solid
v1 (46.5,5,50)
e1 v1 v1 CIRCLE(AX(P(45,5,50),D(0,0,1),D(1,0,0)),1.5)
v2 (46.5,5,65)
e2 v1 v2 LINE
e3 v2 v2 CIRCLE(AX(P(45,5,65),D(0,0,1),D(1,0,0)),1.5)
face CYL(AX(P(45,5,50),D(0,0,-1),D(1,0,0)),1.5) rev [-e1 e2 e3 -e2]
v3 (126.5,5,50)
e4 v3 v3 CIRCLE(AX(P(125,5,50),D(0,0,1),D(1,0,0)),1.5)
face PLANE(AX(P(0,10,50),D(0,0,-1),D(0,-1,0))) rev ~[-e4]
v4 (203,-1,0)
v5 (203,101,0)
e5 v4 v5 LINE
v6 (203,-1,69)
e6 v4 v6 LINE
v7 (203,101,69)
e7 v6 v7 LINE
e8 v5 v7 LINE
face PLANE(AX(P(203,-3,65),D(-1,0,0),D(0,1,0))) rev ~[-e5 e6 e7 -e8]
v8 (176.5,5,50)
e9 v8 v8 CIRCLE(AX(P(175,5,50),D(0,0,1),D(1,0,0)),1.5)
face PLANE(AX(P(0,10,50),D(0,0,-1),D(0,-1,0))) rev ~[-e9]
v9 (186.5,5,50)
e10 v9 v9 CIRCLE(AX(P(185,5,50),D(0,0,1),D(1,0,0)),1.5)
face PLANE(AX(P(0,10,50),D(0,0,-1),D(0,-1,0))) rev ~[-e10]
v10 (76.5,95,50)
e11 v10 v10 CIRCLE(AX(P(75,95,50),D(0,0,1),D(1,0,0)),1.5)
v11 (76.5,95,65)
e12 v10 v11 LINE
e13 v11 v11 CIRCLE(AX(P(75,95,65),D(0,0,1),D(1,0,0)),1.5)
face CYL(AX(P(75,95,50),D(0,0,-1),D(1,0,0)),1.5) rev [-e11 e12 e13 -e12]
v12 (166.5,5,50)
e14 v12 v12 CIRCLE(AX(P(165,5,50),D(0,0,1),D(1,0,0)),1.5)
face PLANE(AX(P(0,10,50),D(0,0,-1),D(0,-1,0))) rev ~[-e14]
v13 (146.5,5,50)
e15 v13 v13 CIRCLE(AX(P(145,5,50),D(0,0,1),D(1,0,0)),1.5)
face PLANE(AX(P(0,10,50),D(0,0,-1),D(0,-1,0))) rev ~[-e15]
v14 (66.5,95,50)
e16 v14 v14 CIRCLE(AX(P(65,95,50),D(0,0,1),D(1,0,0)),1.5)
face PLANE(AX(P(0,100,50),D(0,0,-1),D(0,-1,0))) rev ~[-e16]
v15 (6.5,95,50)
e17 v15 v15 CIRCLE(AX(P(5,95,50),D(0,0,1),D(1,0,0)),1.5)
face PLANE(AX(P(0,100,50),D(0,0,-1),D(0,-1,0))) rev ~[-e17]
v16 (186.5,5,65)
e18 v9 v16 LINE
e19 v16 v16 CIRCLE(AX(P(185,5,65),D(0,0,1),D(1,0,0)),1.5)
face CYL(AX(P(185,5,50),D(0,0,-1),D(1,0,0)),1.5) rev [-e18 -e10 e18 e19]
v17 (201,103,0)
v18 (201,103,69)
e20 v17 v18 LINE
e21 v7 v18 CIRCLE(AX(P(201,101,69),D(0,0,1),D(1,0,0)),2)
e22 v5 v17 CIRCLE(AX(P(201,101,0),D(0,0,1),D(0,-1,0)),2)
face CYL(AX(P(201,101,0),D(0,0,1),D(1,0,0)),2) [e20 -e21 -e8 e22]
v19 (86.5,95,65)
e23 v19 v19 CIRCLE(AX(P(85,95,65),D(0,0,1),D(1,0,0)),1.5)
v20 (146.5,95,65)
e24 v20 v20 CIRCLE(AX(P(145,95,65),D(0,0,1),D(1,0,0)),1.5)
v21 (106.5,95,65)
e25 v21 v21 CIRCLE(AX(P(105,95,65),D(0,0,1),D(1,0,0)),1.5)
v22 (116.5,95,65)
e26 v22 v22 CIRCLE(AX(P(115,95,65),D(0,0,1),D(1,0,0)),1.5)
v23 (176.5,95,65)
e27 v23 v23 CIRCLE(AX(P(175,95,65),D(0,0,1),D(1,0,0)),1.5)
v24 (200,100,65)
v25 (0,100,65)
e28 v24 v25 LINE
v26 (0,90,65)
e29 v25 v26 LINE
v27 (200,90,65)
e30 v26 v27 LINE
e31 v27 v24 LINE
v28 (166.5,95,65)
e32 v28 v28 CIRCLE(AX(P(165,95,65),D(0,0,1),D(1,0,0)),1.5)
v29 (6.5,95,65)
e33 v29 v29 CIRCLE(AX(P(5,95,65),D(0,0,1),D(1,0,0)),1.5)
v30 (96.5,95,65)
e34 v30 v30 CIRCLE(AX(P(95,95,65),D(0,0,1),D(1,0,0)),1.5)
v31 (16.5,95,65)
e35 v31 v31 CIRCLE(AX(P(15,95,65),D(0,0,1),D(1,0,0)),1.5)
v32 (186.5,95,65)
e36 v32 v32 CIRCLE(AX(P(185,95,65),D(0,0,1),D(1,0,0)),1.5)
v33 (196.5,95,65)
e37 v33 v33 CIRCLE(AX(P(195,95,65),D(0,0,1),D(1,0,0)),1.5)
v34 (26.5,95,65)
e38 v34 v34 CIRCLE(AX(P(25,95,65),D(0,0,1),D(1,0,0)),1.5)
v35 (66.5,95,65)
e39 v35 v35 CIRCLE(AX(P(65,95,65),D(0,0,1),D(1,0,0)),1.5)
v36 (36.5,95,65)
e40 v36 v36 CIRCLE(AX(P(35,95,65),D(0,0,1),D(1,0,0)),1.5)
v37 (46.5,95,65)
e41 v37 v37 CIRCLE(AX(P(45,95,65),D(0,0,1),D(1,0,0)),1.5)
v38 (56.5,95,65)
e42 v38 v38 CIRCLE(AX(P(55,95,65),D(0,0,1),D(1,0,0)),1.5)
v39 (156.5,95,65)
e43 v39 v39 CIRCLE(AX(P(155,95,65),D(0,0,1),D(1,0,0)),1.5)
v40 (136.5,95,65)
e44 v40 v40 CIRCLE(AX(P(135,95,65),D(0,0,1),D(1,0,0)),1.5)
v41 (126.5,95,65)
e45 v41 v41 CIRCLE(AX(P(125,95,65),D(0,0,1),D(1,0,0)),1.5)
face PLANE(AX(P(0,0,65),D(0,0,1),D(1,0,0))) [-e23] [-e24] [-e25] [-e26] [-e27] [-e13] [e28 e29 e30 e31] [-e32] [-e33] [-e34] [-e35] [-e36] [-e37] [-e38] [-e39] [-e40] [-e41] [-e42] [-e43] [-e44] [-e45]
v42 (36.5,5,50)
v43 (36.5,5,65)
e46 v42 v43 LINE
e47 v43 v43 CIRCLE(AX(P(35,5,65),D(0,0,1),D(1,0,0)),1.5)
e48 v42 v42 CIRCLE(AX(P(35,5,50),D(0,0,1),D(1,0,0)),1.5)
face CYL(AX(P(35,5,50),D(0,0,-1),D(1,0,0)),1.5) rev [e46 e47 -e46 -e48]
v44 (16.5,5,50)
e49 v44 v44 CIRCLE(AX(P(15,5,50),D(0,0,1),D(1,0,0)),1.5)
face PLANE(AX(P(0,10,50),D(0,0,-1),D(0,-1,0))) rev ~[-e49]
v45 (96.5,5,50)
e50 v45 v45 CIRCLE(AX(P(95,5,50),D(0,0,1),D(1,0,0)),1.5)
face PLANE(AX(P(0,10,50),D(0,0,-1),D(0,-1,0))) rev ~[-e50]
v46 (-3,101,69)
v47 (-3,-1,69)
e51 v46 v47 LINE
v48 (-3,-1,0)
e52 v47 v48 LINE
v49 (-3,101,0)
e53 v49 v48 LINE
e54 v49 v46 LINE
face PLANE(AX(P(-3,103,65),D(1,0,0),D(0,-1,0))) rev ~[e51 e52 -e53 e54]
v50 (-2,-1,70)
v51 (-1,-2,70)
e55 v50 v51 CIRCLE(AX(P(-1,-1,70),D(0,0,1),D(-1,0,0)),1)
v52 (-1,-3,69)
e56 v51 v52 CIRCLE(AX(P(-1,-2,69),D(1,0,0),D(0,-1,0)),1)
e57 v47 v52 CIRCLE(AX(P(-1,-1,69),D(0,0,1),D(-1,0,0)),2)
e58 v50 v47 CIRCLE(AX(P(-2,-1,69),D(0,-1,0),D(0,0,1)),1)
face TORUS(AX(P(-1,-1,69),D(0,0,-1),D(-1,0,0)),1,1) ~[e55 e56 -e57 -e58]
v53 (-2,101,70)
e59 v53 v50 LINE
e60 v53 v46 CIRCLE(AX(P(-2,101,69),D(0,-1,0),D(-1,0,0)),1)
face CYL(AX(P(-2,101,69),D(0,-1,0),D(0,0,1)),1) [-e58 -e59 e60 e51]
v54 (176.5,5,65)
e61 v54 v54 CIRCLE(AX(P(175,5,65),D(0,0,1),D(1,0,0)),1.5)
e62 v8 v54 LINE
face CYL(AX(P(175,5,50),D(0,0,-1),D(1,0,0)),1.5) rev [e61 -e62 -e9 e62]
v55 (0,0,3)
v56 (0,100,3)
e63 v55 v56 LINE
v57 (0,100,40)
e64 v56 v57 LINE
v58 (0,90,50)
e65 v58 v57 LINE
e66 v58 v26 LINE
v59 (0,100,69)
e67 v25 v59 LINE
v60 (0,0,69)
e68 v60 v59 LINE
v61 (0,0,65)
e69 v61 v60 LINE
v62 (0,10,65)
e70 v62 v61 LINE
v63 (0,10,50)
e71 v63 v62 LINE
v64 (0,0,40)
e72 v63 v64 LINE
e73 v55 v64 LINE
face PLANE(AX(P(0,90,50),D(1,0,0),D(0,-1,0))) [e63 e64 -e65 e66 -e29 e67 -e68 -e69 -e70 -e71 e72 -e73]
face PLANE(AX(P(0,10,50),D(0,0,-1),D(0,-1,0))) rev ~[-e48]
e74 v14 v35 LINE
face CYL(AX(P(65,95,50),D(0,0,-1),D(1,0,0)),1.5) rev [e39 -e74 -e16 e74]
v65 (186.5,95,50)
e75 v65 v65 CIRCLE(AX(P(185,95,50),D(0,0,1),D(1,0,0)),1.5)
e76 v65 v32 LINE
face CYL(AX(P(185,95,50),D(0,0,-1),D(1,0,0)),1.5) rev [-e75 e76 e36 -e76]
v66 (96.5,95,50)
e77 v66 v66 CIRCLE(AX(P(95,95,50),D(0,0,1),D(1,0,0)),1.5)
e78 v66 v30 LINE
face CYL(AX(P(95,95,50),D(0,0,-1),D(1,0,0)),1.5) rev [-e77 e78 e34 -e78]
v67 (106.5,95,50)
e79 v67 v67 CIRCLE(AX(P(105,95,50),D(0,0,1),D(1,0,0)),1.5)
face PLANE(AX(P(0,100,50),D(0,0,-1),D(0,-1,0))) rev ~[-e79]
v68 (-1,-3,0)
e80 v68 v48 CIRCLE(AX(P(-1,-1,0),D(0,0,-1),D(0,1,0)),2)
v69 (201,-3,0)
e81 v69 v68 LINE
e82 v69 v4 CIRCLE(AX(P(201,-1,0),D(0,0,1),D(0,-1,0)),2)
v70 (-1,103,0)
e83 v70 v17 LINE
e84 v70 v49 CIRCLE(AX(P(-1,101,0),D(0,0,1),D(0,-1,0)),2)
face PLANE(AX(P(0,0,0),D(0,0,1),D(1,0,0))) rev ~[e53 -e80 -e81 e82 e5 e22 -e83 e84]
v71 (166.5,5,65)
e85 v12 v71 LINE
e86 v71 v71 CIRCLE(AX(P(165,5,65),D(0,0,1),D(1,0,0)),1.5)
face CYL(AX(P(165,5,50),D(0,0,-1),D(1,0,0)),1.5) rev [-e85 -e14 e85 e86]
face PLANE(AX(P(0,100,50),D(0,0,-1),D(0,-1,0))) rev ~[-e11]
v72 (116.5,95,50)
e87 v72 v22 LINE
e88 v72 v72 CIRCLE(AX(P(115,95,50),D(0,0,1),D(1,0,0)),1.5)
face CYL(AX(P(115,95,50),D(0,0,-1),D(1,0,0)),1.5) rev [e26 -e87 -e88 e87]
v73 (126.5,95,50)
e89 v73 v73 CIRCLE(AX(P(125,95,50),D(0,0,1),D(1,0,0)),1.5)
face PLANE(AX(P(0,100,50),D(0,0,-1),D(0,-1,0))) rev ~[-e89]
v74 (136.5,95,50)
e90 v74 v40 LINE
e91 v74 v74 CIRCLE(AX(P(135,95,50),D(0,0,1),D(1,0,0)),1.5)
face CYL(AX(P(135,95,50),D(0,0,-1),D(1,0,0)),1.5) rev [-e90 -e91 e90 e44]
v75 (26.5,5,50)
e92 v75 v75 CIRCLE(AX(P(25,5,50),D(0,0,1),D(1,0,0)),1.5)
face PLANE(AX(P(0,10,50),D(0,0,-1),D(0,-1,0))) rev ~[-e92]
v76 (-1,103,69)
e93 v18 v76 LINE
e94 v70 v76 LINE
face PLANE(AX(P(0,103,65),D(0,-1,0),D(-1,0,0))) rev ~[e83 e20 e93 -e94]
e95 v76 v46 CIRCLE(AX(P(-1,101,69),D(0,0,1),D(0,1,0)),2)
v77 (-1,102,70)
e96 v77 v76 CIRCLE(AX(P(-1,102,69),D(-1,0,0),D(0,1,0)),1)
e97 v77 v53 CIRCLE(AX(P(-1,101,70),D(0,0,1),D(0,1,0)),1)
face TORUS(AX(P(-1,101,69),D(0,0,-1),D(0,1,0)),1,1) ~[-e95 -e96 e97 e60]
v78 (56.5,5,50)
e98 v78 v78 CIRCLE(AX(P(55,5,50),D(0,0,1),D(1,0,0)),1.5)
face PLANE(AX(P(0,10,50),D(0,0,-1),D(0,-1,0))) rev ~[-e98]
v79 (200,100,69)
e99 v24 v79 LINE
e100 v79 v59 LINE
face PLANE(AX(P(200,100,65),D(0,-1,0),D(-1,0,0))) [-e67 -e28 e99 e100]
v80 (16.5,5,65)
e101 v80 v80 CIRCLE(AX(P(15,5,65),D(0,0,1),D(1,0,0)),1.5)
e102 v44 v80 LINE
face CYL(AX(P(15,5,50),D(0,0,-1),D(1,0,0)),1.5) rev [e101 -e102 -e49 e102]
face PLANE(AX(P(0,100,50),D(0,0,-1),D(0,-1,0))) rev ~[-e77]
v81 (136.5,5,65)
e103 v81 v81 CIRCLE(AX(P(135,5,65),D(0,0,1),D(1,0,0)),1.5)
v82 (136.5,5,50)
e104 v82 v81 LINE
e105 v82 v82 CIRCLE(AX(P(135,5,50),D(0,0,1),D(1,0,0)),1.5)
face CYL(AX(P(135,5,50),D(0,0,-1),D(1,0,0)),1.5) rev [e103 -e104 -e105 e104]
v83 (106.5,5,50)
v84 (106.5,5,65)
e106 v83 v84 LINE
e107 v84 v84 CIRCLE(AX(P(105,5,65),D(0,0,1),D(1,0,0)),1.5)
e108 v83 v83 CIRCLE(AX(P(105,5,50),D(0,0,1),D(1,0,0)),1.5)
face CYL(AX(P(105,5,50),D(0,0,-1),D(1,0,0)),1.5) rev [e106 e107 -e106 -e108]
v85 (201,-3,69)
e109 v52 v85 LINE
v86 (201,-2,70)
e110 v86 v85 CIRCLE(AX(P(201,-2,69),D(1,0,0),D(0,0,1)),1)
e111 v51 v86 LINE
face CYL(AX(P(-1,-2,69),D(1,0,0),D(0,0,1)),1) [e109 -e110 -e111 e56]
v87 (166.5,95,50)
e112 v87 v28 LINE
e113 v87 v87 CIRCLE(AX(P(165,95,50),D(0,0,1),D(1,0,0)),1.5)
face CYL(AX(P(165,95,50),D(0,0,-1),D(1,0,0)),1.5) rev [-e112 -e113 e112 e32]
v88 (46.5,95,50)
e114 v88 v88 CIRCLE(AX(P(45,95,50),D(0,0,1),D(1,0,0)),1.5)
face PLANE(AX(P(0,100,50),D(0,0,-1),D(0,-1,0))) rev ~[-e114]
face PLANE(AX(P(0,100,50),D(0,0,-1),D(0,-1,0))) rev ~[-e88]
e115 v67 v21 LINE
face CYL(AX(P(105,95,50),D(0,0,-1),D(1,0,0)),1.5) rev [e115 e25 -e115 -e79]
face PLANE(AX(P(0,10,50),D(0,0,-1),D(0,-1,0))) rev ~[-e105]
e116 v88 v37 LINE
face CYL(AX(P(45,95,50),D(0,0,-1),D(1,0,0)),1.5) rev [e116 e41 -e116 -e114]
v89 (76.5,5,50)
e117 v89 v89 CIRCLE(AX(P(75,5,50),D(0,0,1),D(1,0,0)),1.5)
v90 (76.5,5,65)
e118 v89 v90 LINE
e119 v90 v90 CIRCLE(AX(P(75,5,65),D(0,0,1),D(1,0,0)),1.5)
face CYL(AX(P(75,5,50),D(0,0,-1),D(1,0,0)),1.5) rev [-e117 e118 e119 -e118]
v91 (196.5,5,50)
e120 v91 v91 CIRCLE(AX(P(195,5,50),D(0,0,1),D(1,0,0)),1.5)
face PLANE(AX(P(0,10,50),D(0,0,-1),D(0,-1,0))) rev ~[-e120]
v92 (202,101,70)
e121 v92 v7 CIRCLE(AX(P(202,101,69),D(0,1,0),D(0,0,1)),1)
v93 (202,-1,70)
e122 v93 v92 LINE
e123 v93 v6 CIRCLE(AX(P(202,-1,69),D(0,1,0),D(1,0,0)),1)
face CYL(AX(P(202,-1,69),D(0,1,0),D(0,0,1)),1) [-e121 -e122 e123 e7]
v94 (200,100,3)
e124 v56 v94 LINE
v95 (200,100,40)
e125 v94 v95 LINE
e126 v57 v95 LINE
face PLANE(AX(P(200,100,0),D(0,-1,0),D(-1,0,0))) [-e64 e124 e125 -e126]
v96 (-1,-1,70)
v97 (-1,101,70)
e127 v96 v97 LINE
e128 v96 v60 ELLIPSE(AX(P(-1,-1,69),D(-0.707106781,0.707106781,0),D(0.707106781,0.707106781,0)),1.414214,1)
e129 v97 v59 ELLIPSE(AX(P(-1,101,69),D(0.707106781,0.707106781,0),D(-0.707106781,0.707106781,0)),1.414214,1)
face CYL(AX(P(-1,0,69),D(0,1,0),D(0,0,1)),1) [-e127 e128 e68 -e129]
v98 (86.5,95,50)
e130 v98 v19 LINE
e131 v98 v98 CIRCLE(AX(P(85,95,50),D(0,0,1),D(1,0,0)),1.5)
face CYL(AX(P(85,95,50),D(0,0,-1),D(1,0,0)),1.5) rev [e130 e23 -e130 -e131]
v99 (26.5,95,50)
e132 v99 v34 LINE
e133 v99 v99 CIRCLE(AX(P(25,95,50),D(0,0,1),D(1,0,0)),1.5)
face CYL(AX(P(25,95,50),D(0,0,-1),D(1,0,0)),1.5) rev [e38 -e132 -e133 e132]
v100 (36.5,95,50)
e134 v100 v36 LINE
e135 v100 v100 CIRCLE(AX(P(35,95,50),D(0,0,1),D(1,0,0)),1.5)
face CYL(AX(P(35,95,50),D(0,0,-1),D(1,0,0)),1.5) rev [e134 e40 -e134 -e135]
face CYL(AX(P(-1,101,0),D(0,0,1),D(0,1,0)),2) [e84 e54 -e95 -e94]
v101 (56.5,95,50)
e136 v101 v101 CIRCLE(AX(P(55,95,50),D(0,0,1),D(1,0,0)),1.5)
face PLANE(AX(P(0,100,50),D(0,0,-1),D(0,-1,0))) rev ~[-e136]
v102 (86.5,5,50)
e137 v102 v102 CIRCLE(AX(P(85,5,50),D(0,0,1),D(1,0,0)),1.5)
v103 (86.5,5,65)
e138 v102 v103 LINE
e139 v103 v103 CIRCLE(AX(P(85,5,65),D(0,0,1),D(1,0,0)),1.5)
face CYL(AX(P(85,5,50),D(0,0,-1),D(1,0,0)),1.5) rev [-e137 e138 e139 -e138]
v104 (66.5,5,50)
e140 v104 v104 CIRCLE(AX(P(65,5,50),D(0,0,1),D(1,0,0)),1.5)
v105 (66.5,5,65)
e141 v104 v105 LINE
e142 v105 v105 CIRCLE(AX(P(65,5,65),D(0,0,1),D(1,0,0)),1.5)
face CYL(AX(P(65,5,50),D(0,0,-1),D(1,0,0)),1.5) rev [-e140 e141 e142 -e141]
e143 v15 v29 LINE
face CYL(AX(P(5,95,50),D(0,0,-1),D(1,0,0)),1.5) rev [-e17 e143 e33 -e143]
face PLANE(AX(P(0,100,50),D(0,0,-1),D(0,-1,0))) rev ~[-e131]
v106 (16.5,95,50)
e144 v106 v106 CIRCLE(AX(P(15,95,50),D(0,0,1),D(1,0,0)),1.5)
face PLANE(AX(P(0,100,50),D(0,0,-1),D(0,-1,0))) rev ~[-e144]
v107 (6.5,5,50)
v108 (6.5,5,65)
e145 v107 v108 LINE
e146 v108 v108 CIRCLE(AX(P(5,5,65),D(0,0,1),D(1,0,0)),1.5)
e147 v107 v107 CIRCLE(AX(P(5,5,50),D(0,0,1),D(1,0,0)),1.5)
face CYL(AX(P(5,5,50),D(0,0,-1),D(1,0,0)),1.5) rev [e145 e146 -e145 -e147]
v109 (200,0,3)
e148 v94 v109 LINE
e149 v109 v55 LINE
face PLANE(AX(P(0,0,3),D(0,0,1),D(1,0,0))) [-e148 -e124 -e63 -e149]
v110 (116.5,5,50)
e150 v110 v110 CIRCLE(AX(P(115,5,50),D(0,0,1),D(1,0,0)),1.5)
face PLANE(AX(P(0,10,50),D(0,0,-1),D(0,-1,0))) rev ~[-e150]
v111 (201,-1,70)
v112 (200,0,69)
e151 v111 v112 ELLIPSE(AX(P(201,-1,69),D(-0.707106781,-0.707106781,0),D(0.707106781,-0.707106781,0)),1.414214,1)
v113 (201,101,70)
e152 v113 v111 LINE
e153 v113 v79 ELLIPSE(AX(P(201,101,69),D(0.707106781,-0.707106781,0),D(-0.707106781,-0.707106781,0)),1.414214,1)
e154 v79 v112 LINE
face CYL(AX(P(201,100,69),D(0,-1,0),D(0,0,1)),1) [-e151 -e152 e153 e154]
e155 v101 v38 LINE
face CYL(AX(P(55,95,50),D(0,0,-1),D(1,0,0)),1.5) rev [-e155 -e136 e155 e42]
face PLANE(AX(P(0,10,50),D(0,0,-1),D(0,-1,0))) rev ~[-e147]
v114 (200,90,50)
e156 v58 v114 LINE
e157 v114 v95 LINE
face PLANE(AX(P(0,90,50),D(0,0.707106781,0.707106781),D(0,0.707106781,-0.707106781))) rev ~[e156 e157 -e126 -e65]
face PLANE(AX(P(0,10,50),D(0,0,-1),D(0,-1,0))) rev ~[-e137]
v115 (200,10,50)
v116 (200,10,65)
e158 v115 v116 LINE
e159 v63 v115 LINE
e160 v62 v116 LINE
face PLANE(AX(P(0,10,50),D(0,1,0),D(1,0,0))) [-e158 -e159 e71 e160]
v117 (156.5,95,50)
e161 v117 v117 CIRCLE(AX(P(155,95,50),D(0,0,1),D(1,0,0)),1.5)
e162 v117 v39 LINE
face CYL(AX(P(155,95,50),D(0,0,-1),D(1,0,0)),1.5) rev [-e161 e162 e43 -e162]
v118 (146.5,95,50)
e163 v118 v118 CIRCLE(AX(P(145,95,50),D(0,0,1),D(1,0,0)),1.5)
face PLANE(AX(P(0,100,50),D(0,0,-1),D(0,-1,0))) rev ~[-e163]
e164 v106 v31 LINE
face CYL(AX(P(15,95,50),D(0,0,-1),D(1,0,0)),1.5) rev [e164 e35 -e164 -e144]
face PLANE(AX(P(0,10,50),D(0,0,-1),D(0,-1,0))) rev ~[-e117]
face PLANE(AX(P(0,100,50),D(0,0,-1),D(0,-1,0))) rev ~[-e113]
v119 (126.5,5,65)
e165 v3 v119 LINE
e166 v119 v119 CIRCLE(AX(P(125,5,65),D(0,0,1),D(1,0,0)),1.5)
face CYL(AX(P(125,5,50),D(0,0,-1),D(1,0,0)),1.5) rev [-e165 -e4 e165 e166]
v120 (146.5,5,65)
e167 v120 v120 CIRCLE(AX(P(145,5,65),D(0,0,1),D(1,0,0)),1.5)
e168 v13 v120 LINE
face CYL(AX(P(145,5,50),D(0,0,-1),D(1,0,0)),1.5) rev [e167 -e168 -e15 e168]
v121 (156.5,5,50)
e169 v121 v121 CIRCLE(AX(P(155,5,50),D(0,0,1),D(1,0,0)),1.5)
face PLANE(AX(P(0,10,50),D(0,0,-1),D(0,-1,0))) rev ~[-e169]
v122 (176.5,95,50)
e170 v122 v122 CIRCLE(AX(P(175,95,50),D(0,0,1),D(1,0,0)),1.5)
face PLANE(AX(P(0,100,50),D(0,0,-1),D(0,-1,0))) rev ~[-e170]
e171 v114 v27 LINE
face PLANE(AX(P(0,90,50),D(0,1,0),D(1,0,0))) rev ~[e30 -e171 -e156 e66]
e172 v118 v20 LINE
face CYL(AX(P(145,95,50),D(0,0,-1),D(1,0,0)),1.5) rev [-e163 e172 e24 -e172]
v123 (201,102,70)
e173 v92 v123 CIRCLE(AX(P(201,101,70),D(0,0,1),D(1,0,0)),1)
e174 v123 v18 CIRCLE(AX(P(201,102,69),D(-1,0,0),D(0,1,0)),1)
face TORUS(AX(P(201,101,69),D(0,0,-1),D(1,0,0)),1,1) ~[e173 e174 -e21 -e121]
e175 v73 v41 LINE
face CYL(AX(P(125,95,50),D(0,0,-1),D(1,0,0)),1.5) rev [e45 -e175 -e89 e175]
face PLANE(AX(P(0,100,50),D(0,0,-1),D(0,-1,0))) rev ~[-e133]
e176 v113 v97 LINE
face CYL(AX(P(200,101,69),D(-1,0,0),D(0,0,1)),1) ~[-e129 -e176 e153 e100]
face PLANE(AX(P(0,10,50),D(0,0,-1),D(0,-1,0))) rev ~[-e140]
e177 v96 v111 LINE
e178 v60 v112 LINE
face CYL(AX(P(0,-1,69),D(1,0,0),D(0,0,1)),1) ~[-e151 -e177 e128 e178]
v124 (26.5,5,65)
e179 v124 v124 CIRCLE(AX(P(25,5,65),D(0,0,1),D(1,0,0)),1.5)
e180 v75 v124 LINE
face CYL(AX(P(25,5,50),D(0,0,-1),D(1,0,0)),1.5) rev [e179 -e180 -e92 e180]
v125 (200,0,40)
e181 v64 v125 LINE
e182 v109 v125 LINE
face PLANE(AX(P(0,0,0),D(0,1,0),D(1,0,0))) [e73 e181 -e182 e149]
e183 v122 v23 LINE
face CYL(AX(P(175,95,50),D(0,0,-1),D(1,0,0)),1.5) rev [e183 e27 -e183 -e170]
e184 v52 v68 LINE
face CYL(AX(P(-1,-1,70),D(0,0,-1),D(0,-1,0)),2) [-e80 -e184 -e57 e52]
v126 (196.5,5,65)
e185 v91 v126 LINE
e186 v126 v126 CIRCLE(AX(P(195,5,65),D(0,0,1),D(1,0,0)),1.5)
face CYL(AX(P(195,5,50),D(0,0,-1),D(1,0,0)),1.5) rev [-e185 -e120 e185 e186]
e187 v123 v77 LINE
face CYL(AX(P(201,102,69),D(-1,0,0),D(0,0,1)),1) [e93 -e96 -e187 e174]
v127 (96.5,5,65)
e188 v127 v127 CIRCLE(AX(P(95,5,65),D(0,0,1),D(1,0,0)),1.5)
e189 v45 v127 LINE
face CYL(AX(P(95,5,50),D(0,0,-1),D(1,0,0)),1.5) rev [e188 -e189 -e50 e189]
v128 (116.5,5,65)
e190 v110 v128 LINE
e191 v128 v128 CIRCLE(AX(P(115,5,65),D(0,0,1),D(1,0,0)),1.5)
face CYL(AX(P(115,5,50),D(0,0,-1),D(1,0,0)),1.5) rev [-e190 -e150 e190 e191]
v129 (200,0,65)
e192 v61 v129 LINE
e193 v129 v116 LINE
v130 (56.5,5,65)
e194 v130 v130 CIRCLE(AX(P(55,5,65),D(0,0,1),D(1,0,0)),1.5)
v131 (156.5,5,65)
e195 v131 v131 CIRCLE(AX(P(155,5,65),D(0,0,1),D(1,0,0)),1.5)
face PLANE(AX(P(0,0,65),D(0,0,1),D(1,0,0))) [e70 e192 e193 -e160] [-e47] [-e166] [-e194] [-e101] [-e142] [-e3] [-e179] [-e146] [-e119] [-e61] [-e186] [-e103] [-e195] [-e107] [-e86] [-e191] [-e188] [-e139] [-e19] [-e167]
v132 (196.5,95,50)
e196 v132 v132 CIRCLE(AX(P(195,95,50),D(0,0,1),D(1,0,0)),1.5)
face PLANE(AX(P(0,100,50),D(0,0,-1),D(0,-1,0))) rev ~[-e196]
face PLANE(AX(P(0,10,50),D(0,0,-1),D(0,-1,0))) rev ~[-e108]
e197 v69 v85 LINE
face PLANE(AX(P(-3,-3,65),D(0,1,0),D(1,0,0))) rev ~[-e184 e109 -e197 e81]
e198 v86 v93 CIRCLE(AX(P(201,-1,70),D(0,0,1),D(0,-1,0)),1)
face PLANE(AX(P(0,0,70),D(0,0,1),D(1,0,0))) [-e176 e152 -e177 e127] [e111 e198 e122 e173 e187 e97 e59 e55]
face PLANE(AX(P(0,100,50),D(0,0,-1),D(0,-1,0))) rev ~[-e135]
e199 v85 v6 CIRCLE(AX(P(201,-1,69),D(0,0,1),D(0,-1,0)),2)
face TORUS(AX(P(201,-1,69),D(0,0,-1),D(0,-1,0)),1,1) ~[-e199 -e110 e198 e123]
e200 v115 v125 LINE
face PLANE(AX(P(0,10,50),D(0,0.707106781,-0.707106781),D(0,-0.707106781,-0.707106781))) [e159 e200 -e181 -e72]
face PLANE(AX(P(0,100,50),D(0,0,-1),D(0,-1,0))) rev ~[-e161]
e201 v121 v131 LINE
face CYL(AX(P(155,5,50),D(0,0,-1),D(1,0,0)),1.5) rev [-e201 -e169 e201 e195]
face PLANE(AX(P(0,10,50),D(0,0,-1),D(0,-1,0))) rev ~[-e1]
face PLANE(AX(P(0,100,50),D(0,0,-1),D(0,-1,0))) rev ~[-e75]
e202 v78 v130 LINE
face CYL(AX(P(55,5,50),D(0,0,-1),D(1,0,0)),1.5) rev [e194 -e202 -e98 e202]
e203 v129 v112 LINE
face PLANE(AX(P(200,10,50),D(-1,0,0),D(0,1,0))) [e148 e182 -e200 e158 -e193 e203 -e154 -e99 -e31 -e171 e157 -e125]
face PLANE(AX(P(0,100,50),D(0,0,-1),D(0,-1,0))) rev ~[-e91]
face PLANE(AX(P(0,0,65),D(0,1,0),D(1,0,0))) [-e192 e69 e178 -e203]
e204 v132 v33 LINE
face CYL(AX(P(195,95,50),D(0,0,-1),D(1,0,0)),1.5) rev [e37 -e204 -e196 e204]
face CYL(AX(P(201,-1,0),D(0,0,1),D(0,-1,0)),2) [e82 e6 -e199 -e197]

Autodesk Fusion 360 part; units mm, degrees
sketch "Sketch1" plane through (0, 0, 0) normal (0, 0, 1) x (1, 0, 0)
  line L0 (0, 0) -> (200, 0)
  line L1 (200, 0) -> (200, 100)
  line L2 (200, 100) -> (0, 100)
  line L3 (0, 100) -> (0, 0)
  line L4 (-3, -3) -> (203, -3)
  line L5 (203, -3) -> (203, 103)
  line L6 (203, 103) -> (-3, 103)
  line L7 (-3, 103) -> (-3, -3)
  line L8 (0, 100) -> (0, 103)
  line L9 (0, 0) -> (0, -3)
  line L10 (200, 0) -> (200, -3)
  line L11 (200, 100) -> (200, 103)
  circle A0 centre (5, 95) radius 1.5
  line L12 (0, 90) -> (200, 90)
  line L13 (0, 10) -> (200, 10)
  circle A1 centre (15, 95) radius 1.5
  circle A2 centre (25, 95) radius 1.5
  circle A3 centre (35, 95) radius 1.5
  circle A4 centre (45, 95) radius 1.5
  circle A5 centre (55, 95) radius 1.5
  circle A6 centre (65, 95) radius 1.5
  circle A7 centre (75, 95) radius 1.5
  circle A8 centre (85, 95) radius 1.5
  circle A9 centre (95, 95) radius 1.5
  circle A10 centre (105, 95) radius 1.5
  circle A11 centre (115, 95) radius 1.5
  circle A12 centre (125, 95) radius 1.5
  circle A13 centre (135, 95) radius 1.5
  circle A14 centre (145, 95) radius 1.5
  circle A15 centre (5, 5) radius 1.5
  circle A16 centre (15, 5) radius 1.5
  circle A17 centre (25, 5) radius 1.5
  circle A18 centre (35, 5) radius 1.5
  circle A19 centre (45, 5) radius 1.5
  circle A20 centre (55, 5) radius 1.5
  circle A21 centre (65, 5) radius 1.5
  circle A22 centre (75, 5) radius 1.5
  circle A23 centre (85, 5) radius 1.5
  circle A24 centre (95, 5) radius 1.5
  circle A25 centre (105, 5) radius 1.5
  circle A26 centre (115, 5) radius 1.5
  circle A27 centre (125, 5) radius 1.5
  circle A28 centre (135, 5) radius 1.5
  circle A29 centre (145, 5) radius 1.5
  circle A30 centre (155, 95) radius 1.5
  circle A31 centre (165, 95) radius 1.5
  circle A32 centre (175, 95) radius 1.5
  circle A33 centre (185, 95) radius 1.5
  circle A34 centre (195, 95) radius 1.5
  circle A35 centre (155, 5) radius 1.5
  circle A36 centre (165, 5) radius 1.5
  circle A37 centre (175, 5) radius 1.5
  circle A38 centre (185, 5) radius 1.5
  circle A39 centre (195, 5) radius 1.5
  dimension "d1" = 3
  dimension "d2" = 3
  dimension "d5" = 190
  dimension "d6" = -90
  dimension "d23" = 200
  dimension "d33" = 100
extrude "Extrude1" add sketch "Sketch1" along normal blind 15 from surface at 50 contours L0 L1 L3 L13 | L3 L4 L6 L7 L8 L9 | L0 L4 L9 L10 | L1 L4 L5 L6 L10 L11 | L1 L2 L3 L12 | L2 L6 L8 L11 makes body 1
extrude "Extrude2" add sketch "Sketch1" along normal blind 3 separate body contours L0 L1 L3 L13 | L3 L4 L6 L7 L8 L9 | L0 L4 L9 L10 | L1 L4 L5 L6 L10 L11 | L1 L3 L12 L13 | L1 L2 L3 L12 | L2 L6 L8 L11 | A0 | A1 | A2 | A3 | A4 | A5 | A6 | A7 | A8 | A9 | A10 | A11 | A12 | A13 | A14 | A15 | A16 | A17 | A18 | A19 | A20 | A21 | A22 | A23 | A24 | A25 | A26 | A27 | A28 | A29 | A30 | A31 | A32 | A33 | A34 | A35 | A36 | A37 | A38 | A39 makes body 2
extrude "Extrude3" add sketch "Sketch1" along normal blind 50 contours L3 L4 L6 L7 L8 L9 | L0 L4 L9 L10 | L1 L4 L5 L6 L10 L11 | L2 L6 L8 L11 bodies 1 2
sketch "Sketch2" plane through (0, 0, 0) normal (1, 0, 0) x (0, 1, 0)
  line L0 (90, 50) -> (90, 65)
  line L1 (90, 65) -> (10, 65)
  line L2 (10, 65) -> (10, 50)
  line L3 (10, 50) -> (0, 50)
  line L4 (0, 50) -> (0, 3)
  line L5 (0, 3) -> (100, 3)
  line L6 (100, 3) -> (100, 50)
  line L7 (100, 50) -> (90, 50)
  line L8 (90, 50) -> (100, 40)
  line L9 (10, 50) -> (0, 40)
  line L10 (103, 0) -> (-3, 0)
  dimension "d34" = 40
extrude "Extrude4" add sketch "Sketch2" along normal up to surface (200 mm away) contours L6 L7 L8 | L3 L4 L9 bodies 1
extrude "Extrude5" add sketch "Sketch1" along normal blind 5 from surface at 65 contours L3 L4 L6 L7 L8 L9 | L0 L4 L9 L10 | L1 L4 L5 L6 L10 L11 | L2 L6 L8 L11 bodies 1
fillet "Fillet1" radius 2 4 edges at (-3, -3, 35) (203, 103, 35) (203, -3, 35) (-3, 103, 35) on bodies 1
fillet "Fillet2" radius 1 12 edges at (-2.4142, 102.4142, 70) (-3, 50, 70) (-2.4142, -2.4142, 70) (100, -3, 70) (202.4142, -2.4142, 70) (203, 50, 70) (202.4142, 102.4142, 70) (100, 103, 70) (100, 100, 70) (0, 50, 70) (100, 0, 70) (200, 50, 70) on bodies 1
equation "d7 = depth - 20 mm"
equation "d12 = depth - 20 mm"
equation "d16 = depth - 5 mm"
equation "d23 = width"
equation "width = ( userWidth * 1 ) * 1 mm"
equation "userWidth = 200" comment "Enter value in mm"
equation "holeAmount = userWidth / 10"
equation "userDepth = 70"
equation "userHeight = 100"
equation "depth = ( userDepth * 1 ) * 1 mm"
equation "height = ( userHeight * 1 ) * 1 mm"
equation "d34 = depth - 30 mm"
